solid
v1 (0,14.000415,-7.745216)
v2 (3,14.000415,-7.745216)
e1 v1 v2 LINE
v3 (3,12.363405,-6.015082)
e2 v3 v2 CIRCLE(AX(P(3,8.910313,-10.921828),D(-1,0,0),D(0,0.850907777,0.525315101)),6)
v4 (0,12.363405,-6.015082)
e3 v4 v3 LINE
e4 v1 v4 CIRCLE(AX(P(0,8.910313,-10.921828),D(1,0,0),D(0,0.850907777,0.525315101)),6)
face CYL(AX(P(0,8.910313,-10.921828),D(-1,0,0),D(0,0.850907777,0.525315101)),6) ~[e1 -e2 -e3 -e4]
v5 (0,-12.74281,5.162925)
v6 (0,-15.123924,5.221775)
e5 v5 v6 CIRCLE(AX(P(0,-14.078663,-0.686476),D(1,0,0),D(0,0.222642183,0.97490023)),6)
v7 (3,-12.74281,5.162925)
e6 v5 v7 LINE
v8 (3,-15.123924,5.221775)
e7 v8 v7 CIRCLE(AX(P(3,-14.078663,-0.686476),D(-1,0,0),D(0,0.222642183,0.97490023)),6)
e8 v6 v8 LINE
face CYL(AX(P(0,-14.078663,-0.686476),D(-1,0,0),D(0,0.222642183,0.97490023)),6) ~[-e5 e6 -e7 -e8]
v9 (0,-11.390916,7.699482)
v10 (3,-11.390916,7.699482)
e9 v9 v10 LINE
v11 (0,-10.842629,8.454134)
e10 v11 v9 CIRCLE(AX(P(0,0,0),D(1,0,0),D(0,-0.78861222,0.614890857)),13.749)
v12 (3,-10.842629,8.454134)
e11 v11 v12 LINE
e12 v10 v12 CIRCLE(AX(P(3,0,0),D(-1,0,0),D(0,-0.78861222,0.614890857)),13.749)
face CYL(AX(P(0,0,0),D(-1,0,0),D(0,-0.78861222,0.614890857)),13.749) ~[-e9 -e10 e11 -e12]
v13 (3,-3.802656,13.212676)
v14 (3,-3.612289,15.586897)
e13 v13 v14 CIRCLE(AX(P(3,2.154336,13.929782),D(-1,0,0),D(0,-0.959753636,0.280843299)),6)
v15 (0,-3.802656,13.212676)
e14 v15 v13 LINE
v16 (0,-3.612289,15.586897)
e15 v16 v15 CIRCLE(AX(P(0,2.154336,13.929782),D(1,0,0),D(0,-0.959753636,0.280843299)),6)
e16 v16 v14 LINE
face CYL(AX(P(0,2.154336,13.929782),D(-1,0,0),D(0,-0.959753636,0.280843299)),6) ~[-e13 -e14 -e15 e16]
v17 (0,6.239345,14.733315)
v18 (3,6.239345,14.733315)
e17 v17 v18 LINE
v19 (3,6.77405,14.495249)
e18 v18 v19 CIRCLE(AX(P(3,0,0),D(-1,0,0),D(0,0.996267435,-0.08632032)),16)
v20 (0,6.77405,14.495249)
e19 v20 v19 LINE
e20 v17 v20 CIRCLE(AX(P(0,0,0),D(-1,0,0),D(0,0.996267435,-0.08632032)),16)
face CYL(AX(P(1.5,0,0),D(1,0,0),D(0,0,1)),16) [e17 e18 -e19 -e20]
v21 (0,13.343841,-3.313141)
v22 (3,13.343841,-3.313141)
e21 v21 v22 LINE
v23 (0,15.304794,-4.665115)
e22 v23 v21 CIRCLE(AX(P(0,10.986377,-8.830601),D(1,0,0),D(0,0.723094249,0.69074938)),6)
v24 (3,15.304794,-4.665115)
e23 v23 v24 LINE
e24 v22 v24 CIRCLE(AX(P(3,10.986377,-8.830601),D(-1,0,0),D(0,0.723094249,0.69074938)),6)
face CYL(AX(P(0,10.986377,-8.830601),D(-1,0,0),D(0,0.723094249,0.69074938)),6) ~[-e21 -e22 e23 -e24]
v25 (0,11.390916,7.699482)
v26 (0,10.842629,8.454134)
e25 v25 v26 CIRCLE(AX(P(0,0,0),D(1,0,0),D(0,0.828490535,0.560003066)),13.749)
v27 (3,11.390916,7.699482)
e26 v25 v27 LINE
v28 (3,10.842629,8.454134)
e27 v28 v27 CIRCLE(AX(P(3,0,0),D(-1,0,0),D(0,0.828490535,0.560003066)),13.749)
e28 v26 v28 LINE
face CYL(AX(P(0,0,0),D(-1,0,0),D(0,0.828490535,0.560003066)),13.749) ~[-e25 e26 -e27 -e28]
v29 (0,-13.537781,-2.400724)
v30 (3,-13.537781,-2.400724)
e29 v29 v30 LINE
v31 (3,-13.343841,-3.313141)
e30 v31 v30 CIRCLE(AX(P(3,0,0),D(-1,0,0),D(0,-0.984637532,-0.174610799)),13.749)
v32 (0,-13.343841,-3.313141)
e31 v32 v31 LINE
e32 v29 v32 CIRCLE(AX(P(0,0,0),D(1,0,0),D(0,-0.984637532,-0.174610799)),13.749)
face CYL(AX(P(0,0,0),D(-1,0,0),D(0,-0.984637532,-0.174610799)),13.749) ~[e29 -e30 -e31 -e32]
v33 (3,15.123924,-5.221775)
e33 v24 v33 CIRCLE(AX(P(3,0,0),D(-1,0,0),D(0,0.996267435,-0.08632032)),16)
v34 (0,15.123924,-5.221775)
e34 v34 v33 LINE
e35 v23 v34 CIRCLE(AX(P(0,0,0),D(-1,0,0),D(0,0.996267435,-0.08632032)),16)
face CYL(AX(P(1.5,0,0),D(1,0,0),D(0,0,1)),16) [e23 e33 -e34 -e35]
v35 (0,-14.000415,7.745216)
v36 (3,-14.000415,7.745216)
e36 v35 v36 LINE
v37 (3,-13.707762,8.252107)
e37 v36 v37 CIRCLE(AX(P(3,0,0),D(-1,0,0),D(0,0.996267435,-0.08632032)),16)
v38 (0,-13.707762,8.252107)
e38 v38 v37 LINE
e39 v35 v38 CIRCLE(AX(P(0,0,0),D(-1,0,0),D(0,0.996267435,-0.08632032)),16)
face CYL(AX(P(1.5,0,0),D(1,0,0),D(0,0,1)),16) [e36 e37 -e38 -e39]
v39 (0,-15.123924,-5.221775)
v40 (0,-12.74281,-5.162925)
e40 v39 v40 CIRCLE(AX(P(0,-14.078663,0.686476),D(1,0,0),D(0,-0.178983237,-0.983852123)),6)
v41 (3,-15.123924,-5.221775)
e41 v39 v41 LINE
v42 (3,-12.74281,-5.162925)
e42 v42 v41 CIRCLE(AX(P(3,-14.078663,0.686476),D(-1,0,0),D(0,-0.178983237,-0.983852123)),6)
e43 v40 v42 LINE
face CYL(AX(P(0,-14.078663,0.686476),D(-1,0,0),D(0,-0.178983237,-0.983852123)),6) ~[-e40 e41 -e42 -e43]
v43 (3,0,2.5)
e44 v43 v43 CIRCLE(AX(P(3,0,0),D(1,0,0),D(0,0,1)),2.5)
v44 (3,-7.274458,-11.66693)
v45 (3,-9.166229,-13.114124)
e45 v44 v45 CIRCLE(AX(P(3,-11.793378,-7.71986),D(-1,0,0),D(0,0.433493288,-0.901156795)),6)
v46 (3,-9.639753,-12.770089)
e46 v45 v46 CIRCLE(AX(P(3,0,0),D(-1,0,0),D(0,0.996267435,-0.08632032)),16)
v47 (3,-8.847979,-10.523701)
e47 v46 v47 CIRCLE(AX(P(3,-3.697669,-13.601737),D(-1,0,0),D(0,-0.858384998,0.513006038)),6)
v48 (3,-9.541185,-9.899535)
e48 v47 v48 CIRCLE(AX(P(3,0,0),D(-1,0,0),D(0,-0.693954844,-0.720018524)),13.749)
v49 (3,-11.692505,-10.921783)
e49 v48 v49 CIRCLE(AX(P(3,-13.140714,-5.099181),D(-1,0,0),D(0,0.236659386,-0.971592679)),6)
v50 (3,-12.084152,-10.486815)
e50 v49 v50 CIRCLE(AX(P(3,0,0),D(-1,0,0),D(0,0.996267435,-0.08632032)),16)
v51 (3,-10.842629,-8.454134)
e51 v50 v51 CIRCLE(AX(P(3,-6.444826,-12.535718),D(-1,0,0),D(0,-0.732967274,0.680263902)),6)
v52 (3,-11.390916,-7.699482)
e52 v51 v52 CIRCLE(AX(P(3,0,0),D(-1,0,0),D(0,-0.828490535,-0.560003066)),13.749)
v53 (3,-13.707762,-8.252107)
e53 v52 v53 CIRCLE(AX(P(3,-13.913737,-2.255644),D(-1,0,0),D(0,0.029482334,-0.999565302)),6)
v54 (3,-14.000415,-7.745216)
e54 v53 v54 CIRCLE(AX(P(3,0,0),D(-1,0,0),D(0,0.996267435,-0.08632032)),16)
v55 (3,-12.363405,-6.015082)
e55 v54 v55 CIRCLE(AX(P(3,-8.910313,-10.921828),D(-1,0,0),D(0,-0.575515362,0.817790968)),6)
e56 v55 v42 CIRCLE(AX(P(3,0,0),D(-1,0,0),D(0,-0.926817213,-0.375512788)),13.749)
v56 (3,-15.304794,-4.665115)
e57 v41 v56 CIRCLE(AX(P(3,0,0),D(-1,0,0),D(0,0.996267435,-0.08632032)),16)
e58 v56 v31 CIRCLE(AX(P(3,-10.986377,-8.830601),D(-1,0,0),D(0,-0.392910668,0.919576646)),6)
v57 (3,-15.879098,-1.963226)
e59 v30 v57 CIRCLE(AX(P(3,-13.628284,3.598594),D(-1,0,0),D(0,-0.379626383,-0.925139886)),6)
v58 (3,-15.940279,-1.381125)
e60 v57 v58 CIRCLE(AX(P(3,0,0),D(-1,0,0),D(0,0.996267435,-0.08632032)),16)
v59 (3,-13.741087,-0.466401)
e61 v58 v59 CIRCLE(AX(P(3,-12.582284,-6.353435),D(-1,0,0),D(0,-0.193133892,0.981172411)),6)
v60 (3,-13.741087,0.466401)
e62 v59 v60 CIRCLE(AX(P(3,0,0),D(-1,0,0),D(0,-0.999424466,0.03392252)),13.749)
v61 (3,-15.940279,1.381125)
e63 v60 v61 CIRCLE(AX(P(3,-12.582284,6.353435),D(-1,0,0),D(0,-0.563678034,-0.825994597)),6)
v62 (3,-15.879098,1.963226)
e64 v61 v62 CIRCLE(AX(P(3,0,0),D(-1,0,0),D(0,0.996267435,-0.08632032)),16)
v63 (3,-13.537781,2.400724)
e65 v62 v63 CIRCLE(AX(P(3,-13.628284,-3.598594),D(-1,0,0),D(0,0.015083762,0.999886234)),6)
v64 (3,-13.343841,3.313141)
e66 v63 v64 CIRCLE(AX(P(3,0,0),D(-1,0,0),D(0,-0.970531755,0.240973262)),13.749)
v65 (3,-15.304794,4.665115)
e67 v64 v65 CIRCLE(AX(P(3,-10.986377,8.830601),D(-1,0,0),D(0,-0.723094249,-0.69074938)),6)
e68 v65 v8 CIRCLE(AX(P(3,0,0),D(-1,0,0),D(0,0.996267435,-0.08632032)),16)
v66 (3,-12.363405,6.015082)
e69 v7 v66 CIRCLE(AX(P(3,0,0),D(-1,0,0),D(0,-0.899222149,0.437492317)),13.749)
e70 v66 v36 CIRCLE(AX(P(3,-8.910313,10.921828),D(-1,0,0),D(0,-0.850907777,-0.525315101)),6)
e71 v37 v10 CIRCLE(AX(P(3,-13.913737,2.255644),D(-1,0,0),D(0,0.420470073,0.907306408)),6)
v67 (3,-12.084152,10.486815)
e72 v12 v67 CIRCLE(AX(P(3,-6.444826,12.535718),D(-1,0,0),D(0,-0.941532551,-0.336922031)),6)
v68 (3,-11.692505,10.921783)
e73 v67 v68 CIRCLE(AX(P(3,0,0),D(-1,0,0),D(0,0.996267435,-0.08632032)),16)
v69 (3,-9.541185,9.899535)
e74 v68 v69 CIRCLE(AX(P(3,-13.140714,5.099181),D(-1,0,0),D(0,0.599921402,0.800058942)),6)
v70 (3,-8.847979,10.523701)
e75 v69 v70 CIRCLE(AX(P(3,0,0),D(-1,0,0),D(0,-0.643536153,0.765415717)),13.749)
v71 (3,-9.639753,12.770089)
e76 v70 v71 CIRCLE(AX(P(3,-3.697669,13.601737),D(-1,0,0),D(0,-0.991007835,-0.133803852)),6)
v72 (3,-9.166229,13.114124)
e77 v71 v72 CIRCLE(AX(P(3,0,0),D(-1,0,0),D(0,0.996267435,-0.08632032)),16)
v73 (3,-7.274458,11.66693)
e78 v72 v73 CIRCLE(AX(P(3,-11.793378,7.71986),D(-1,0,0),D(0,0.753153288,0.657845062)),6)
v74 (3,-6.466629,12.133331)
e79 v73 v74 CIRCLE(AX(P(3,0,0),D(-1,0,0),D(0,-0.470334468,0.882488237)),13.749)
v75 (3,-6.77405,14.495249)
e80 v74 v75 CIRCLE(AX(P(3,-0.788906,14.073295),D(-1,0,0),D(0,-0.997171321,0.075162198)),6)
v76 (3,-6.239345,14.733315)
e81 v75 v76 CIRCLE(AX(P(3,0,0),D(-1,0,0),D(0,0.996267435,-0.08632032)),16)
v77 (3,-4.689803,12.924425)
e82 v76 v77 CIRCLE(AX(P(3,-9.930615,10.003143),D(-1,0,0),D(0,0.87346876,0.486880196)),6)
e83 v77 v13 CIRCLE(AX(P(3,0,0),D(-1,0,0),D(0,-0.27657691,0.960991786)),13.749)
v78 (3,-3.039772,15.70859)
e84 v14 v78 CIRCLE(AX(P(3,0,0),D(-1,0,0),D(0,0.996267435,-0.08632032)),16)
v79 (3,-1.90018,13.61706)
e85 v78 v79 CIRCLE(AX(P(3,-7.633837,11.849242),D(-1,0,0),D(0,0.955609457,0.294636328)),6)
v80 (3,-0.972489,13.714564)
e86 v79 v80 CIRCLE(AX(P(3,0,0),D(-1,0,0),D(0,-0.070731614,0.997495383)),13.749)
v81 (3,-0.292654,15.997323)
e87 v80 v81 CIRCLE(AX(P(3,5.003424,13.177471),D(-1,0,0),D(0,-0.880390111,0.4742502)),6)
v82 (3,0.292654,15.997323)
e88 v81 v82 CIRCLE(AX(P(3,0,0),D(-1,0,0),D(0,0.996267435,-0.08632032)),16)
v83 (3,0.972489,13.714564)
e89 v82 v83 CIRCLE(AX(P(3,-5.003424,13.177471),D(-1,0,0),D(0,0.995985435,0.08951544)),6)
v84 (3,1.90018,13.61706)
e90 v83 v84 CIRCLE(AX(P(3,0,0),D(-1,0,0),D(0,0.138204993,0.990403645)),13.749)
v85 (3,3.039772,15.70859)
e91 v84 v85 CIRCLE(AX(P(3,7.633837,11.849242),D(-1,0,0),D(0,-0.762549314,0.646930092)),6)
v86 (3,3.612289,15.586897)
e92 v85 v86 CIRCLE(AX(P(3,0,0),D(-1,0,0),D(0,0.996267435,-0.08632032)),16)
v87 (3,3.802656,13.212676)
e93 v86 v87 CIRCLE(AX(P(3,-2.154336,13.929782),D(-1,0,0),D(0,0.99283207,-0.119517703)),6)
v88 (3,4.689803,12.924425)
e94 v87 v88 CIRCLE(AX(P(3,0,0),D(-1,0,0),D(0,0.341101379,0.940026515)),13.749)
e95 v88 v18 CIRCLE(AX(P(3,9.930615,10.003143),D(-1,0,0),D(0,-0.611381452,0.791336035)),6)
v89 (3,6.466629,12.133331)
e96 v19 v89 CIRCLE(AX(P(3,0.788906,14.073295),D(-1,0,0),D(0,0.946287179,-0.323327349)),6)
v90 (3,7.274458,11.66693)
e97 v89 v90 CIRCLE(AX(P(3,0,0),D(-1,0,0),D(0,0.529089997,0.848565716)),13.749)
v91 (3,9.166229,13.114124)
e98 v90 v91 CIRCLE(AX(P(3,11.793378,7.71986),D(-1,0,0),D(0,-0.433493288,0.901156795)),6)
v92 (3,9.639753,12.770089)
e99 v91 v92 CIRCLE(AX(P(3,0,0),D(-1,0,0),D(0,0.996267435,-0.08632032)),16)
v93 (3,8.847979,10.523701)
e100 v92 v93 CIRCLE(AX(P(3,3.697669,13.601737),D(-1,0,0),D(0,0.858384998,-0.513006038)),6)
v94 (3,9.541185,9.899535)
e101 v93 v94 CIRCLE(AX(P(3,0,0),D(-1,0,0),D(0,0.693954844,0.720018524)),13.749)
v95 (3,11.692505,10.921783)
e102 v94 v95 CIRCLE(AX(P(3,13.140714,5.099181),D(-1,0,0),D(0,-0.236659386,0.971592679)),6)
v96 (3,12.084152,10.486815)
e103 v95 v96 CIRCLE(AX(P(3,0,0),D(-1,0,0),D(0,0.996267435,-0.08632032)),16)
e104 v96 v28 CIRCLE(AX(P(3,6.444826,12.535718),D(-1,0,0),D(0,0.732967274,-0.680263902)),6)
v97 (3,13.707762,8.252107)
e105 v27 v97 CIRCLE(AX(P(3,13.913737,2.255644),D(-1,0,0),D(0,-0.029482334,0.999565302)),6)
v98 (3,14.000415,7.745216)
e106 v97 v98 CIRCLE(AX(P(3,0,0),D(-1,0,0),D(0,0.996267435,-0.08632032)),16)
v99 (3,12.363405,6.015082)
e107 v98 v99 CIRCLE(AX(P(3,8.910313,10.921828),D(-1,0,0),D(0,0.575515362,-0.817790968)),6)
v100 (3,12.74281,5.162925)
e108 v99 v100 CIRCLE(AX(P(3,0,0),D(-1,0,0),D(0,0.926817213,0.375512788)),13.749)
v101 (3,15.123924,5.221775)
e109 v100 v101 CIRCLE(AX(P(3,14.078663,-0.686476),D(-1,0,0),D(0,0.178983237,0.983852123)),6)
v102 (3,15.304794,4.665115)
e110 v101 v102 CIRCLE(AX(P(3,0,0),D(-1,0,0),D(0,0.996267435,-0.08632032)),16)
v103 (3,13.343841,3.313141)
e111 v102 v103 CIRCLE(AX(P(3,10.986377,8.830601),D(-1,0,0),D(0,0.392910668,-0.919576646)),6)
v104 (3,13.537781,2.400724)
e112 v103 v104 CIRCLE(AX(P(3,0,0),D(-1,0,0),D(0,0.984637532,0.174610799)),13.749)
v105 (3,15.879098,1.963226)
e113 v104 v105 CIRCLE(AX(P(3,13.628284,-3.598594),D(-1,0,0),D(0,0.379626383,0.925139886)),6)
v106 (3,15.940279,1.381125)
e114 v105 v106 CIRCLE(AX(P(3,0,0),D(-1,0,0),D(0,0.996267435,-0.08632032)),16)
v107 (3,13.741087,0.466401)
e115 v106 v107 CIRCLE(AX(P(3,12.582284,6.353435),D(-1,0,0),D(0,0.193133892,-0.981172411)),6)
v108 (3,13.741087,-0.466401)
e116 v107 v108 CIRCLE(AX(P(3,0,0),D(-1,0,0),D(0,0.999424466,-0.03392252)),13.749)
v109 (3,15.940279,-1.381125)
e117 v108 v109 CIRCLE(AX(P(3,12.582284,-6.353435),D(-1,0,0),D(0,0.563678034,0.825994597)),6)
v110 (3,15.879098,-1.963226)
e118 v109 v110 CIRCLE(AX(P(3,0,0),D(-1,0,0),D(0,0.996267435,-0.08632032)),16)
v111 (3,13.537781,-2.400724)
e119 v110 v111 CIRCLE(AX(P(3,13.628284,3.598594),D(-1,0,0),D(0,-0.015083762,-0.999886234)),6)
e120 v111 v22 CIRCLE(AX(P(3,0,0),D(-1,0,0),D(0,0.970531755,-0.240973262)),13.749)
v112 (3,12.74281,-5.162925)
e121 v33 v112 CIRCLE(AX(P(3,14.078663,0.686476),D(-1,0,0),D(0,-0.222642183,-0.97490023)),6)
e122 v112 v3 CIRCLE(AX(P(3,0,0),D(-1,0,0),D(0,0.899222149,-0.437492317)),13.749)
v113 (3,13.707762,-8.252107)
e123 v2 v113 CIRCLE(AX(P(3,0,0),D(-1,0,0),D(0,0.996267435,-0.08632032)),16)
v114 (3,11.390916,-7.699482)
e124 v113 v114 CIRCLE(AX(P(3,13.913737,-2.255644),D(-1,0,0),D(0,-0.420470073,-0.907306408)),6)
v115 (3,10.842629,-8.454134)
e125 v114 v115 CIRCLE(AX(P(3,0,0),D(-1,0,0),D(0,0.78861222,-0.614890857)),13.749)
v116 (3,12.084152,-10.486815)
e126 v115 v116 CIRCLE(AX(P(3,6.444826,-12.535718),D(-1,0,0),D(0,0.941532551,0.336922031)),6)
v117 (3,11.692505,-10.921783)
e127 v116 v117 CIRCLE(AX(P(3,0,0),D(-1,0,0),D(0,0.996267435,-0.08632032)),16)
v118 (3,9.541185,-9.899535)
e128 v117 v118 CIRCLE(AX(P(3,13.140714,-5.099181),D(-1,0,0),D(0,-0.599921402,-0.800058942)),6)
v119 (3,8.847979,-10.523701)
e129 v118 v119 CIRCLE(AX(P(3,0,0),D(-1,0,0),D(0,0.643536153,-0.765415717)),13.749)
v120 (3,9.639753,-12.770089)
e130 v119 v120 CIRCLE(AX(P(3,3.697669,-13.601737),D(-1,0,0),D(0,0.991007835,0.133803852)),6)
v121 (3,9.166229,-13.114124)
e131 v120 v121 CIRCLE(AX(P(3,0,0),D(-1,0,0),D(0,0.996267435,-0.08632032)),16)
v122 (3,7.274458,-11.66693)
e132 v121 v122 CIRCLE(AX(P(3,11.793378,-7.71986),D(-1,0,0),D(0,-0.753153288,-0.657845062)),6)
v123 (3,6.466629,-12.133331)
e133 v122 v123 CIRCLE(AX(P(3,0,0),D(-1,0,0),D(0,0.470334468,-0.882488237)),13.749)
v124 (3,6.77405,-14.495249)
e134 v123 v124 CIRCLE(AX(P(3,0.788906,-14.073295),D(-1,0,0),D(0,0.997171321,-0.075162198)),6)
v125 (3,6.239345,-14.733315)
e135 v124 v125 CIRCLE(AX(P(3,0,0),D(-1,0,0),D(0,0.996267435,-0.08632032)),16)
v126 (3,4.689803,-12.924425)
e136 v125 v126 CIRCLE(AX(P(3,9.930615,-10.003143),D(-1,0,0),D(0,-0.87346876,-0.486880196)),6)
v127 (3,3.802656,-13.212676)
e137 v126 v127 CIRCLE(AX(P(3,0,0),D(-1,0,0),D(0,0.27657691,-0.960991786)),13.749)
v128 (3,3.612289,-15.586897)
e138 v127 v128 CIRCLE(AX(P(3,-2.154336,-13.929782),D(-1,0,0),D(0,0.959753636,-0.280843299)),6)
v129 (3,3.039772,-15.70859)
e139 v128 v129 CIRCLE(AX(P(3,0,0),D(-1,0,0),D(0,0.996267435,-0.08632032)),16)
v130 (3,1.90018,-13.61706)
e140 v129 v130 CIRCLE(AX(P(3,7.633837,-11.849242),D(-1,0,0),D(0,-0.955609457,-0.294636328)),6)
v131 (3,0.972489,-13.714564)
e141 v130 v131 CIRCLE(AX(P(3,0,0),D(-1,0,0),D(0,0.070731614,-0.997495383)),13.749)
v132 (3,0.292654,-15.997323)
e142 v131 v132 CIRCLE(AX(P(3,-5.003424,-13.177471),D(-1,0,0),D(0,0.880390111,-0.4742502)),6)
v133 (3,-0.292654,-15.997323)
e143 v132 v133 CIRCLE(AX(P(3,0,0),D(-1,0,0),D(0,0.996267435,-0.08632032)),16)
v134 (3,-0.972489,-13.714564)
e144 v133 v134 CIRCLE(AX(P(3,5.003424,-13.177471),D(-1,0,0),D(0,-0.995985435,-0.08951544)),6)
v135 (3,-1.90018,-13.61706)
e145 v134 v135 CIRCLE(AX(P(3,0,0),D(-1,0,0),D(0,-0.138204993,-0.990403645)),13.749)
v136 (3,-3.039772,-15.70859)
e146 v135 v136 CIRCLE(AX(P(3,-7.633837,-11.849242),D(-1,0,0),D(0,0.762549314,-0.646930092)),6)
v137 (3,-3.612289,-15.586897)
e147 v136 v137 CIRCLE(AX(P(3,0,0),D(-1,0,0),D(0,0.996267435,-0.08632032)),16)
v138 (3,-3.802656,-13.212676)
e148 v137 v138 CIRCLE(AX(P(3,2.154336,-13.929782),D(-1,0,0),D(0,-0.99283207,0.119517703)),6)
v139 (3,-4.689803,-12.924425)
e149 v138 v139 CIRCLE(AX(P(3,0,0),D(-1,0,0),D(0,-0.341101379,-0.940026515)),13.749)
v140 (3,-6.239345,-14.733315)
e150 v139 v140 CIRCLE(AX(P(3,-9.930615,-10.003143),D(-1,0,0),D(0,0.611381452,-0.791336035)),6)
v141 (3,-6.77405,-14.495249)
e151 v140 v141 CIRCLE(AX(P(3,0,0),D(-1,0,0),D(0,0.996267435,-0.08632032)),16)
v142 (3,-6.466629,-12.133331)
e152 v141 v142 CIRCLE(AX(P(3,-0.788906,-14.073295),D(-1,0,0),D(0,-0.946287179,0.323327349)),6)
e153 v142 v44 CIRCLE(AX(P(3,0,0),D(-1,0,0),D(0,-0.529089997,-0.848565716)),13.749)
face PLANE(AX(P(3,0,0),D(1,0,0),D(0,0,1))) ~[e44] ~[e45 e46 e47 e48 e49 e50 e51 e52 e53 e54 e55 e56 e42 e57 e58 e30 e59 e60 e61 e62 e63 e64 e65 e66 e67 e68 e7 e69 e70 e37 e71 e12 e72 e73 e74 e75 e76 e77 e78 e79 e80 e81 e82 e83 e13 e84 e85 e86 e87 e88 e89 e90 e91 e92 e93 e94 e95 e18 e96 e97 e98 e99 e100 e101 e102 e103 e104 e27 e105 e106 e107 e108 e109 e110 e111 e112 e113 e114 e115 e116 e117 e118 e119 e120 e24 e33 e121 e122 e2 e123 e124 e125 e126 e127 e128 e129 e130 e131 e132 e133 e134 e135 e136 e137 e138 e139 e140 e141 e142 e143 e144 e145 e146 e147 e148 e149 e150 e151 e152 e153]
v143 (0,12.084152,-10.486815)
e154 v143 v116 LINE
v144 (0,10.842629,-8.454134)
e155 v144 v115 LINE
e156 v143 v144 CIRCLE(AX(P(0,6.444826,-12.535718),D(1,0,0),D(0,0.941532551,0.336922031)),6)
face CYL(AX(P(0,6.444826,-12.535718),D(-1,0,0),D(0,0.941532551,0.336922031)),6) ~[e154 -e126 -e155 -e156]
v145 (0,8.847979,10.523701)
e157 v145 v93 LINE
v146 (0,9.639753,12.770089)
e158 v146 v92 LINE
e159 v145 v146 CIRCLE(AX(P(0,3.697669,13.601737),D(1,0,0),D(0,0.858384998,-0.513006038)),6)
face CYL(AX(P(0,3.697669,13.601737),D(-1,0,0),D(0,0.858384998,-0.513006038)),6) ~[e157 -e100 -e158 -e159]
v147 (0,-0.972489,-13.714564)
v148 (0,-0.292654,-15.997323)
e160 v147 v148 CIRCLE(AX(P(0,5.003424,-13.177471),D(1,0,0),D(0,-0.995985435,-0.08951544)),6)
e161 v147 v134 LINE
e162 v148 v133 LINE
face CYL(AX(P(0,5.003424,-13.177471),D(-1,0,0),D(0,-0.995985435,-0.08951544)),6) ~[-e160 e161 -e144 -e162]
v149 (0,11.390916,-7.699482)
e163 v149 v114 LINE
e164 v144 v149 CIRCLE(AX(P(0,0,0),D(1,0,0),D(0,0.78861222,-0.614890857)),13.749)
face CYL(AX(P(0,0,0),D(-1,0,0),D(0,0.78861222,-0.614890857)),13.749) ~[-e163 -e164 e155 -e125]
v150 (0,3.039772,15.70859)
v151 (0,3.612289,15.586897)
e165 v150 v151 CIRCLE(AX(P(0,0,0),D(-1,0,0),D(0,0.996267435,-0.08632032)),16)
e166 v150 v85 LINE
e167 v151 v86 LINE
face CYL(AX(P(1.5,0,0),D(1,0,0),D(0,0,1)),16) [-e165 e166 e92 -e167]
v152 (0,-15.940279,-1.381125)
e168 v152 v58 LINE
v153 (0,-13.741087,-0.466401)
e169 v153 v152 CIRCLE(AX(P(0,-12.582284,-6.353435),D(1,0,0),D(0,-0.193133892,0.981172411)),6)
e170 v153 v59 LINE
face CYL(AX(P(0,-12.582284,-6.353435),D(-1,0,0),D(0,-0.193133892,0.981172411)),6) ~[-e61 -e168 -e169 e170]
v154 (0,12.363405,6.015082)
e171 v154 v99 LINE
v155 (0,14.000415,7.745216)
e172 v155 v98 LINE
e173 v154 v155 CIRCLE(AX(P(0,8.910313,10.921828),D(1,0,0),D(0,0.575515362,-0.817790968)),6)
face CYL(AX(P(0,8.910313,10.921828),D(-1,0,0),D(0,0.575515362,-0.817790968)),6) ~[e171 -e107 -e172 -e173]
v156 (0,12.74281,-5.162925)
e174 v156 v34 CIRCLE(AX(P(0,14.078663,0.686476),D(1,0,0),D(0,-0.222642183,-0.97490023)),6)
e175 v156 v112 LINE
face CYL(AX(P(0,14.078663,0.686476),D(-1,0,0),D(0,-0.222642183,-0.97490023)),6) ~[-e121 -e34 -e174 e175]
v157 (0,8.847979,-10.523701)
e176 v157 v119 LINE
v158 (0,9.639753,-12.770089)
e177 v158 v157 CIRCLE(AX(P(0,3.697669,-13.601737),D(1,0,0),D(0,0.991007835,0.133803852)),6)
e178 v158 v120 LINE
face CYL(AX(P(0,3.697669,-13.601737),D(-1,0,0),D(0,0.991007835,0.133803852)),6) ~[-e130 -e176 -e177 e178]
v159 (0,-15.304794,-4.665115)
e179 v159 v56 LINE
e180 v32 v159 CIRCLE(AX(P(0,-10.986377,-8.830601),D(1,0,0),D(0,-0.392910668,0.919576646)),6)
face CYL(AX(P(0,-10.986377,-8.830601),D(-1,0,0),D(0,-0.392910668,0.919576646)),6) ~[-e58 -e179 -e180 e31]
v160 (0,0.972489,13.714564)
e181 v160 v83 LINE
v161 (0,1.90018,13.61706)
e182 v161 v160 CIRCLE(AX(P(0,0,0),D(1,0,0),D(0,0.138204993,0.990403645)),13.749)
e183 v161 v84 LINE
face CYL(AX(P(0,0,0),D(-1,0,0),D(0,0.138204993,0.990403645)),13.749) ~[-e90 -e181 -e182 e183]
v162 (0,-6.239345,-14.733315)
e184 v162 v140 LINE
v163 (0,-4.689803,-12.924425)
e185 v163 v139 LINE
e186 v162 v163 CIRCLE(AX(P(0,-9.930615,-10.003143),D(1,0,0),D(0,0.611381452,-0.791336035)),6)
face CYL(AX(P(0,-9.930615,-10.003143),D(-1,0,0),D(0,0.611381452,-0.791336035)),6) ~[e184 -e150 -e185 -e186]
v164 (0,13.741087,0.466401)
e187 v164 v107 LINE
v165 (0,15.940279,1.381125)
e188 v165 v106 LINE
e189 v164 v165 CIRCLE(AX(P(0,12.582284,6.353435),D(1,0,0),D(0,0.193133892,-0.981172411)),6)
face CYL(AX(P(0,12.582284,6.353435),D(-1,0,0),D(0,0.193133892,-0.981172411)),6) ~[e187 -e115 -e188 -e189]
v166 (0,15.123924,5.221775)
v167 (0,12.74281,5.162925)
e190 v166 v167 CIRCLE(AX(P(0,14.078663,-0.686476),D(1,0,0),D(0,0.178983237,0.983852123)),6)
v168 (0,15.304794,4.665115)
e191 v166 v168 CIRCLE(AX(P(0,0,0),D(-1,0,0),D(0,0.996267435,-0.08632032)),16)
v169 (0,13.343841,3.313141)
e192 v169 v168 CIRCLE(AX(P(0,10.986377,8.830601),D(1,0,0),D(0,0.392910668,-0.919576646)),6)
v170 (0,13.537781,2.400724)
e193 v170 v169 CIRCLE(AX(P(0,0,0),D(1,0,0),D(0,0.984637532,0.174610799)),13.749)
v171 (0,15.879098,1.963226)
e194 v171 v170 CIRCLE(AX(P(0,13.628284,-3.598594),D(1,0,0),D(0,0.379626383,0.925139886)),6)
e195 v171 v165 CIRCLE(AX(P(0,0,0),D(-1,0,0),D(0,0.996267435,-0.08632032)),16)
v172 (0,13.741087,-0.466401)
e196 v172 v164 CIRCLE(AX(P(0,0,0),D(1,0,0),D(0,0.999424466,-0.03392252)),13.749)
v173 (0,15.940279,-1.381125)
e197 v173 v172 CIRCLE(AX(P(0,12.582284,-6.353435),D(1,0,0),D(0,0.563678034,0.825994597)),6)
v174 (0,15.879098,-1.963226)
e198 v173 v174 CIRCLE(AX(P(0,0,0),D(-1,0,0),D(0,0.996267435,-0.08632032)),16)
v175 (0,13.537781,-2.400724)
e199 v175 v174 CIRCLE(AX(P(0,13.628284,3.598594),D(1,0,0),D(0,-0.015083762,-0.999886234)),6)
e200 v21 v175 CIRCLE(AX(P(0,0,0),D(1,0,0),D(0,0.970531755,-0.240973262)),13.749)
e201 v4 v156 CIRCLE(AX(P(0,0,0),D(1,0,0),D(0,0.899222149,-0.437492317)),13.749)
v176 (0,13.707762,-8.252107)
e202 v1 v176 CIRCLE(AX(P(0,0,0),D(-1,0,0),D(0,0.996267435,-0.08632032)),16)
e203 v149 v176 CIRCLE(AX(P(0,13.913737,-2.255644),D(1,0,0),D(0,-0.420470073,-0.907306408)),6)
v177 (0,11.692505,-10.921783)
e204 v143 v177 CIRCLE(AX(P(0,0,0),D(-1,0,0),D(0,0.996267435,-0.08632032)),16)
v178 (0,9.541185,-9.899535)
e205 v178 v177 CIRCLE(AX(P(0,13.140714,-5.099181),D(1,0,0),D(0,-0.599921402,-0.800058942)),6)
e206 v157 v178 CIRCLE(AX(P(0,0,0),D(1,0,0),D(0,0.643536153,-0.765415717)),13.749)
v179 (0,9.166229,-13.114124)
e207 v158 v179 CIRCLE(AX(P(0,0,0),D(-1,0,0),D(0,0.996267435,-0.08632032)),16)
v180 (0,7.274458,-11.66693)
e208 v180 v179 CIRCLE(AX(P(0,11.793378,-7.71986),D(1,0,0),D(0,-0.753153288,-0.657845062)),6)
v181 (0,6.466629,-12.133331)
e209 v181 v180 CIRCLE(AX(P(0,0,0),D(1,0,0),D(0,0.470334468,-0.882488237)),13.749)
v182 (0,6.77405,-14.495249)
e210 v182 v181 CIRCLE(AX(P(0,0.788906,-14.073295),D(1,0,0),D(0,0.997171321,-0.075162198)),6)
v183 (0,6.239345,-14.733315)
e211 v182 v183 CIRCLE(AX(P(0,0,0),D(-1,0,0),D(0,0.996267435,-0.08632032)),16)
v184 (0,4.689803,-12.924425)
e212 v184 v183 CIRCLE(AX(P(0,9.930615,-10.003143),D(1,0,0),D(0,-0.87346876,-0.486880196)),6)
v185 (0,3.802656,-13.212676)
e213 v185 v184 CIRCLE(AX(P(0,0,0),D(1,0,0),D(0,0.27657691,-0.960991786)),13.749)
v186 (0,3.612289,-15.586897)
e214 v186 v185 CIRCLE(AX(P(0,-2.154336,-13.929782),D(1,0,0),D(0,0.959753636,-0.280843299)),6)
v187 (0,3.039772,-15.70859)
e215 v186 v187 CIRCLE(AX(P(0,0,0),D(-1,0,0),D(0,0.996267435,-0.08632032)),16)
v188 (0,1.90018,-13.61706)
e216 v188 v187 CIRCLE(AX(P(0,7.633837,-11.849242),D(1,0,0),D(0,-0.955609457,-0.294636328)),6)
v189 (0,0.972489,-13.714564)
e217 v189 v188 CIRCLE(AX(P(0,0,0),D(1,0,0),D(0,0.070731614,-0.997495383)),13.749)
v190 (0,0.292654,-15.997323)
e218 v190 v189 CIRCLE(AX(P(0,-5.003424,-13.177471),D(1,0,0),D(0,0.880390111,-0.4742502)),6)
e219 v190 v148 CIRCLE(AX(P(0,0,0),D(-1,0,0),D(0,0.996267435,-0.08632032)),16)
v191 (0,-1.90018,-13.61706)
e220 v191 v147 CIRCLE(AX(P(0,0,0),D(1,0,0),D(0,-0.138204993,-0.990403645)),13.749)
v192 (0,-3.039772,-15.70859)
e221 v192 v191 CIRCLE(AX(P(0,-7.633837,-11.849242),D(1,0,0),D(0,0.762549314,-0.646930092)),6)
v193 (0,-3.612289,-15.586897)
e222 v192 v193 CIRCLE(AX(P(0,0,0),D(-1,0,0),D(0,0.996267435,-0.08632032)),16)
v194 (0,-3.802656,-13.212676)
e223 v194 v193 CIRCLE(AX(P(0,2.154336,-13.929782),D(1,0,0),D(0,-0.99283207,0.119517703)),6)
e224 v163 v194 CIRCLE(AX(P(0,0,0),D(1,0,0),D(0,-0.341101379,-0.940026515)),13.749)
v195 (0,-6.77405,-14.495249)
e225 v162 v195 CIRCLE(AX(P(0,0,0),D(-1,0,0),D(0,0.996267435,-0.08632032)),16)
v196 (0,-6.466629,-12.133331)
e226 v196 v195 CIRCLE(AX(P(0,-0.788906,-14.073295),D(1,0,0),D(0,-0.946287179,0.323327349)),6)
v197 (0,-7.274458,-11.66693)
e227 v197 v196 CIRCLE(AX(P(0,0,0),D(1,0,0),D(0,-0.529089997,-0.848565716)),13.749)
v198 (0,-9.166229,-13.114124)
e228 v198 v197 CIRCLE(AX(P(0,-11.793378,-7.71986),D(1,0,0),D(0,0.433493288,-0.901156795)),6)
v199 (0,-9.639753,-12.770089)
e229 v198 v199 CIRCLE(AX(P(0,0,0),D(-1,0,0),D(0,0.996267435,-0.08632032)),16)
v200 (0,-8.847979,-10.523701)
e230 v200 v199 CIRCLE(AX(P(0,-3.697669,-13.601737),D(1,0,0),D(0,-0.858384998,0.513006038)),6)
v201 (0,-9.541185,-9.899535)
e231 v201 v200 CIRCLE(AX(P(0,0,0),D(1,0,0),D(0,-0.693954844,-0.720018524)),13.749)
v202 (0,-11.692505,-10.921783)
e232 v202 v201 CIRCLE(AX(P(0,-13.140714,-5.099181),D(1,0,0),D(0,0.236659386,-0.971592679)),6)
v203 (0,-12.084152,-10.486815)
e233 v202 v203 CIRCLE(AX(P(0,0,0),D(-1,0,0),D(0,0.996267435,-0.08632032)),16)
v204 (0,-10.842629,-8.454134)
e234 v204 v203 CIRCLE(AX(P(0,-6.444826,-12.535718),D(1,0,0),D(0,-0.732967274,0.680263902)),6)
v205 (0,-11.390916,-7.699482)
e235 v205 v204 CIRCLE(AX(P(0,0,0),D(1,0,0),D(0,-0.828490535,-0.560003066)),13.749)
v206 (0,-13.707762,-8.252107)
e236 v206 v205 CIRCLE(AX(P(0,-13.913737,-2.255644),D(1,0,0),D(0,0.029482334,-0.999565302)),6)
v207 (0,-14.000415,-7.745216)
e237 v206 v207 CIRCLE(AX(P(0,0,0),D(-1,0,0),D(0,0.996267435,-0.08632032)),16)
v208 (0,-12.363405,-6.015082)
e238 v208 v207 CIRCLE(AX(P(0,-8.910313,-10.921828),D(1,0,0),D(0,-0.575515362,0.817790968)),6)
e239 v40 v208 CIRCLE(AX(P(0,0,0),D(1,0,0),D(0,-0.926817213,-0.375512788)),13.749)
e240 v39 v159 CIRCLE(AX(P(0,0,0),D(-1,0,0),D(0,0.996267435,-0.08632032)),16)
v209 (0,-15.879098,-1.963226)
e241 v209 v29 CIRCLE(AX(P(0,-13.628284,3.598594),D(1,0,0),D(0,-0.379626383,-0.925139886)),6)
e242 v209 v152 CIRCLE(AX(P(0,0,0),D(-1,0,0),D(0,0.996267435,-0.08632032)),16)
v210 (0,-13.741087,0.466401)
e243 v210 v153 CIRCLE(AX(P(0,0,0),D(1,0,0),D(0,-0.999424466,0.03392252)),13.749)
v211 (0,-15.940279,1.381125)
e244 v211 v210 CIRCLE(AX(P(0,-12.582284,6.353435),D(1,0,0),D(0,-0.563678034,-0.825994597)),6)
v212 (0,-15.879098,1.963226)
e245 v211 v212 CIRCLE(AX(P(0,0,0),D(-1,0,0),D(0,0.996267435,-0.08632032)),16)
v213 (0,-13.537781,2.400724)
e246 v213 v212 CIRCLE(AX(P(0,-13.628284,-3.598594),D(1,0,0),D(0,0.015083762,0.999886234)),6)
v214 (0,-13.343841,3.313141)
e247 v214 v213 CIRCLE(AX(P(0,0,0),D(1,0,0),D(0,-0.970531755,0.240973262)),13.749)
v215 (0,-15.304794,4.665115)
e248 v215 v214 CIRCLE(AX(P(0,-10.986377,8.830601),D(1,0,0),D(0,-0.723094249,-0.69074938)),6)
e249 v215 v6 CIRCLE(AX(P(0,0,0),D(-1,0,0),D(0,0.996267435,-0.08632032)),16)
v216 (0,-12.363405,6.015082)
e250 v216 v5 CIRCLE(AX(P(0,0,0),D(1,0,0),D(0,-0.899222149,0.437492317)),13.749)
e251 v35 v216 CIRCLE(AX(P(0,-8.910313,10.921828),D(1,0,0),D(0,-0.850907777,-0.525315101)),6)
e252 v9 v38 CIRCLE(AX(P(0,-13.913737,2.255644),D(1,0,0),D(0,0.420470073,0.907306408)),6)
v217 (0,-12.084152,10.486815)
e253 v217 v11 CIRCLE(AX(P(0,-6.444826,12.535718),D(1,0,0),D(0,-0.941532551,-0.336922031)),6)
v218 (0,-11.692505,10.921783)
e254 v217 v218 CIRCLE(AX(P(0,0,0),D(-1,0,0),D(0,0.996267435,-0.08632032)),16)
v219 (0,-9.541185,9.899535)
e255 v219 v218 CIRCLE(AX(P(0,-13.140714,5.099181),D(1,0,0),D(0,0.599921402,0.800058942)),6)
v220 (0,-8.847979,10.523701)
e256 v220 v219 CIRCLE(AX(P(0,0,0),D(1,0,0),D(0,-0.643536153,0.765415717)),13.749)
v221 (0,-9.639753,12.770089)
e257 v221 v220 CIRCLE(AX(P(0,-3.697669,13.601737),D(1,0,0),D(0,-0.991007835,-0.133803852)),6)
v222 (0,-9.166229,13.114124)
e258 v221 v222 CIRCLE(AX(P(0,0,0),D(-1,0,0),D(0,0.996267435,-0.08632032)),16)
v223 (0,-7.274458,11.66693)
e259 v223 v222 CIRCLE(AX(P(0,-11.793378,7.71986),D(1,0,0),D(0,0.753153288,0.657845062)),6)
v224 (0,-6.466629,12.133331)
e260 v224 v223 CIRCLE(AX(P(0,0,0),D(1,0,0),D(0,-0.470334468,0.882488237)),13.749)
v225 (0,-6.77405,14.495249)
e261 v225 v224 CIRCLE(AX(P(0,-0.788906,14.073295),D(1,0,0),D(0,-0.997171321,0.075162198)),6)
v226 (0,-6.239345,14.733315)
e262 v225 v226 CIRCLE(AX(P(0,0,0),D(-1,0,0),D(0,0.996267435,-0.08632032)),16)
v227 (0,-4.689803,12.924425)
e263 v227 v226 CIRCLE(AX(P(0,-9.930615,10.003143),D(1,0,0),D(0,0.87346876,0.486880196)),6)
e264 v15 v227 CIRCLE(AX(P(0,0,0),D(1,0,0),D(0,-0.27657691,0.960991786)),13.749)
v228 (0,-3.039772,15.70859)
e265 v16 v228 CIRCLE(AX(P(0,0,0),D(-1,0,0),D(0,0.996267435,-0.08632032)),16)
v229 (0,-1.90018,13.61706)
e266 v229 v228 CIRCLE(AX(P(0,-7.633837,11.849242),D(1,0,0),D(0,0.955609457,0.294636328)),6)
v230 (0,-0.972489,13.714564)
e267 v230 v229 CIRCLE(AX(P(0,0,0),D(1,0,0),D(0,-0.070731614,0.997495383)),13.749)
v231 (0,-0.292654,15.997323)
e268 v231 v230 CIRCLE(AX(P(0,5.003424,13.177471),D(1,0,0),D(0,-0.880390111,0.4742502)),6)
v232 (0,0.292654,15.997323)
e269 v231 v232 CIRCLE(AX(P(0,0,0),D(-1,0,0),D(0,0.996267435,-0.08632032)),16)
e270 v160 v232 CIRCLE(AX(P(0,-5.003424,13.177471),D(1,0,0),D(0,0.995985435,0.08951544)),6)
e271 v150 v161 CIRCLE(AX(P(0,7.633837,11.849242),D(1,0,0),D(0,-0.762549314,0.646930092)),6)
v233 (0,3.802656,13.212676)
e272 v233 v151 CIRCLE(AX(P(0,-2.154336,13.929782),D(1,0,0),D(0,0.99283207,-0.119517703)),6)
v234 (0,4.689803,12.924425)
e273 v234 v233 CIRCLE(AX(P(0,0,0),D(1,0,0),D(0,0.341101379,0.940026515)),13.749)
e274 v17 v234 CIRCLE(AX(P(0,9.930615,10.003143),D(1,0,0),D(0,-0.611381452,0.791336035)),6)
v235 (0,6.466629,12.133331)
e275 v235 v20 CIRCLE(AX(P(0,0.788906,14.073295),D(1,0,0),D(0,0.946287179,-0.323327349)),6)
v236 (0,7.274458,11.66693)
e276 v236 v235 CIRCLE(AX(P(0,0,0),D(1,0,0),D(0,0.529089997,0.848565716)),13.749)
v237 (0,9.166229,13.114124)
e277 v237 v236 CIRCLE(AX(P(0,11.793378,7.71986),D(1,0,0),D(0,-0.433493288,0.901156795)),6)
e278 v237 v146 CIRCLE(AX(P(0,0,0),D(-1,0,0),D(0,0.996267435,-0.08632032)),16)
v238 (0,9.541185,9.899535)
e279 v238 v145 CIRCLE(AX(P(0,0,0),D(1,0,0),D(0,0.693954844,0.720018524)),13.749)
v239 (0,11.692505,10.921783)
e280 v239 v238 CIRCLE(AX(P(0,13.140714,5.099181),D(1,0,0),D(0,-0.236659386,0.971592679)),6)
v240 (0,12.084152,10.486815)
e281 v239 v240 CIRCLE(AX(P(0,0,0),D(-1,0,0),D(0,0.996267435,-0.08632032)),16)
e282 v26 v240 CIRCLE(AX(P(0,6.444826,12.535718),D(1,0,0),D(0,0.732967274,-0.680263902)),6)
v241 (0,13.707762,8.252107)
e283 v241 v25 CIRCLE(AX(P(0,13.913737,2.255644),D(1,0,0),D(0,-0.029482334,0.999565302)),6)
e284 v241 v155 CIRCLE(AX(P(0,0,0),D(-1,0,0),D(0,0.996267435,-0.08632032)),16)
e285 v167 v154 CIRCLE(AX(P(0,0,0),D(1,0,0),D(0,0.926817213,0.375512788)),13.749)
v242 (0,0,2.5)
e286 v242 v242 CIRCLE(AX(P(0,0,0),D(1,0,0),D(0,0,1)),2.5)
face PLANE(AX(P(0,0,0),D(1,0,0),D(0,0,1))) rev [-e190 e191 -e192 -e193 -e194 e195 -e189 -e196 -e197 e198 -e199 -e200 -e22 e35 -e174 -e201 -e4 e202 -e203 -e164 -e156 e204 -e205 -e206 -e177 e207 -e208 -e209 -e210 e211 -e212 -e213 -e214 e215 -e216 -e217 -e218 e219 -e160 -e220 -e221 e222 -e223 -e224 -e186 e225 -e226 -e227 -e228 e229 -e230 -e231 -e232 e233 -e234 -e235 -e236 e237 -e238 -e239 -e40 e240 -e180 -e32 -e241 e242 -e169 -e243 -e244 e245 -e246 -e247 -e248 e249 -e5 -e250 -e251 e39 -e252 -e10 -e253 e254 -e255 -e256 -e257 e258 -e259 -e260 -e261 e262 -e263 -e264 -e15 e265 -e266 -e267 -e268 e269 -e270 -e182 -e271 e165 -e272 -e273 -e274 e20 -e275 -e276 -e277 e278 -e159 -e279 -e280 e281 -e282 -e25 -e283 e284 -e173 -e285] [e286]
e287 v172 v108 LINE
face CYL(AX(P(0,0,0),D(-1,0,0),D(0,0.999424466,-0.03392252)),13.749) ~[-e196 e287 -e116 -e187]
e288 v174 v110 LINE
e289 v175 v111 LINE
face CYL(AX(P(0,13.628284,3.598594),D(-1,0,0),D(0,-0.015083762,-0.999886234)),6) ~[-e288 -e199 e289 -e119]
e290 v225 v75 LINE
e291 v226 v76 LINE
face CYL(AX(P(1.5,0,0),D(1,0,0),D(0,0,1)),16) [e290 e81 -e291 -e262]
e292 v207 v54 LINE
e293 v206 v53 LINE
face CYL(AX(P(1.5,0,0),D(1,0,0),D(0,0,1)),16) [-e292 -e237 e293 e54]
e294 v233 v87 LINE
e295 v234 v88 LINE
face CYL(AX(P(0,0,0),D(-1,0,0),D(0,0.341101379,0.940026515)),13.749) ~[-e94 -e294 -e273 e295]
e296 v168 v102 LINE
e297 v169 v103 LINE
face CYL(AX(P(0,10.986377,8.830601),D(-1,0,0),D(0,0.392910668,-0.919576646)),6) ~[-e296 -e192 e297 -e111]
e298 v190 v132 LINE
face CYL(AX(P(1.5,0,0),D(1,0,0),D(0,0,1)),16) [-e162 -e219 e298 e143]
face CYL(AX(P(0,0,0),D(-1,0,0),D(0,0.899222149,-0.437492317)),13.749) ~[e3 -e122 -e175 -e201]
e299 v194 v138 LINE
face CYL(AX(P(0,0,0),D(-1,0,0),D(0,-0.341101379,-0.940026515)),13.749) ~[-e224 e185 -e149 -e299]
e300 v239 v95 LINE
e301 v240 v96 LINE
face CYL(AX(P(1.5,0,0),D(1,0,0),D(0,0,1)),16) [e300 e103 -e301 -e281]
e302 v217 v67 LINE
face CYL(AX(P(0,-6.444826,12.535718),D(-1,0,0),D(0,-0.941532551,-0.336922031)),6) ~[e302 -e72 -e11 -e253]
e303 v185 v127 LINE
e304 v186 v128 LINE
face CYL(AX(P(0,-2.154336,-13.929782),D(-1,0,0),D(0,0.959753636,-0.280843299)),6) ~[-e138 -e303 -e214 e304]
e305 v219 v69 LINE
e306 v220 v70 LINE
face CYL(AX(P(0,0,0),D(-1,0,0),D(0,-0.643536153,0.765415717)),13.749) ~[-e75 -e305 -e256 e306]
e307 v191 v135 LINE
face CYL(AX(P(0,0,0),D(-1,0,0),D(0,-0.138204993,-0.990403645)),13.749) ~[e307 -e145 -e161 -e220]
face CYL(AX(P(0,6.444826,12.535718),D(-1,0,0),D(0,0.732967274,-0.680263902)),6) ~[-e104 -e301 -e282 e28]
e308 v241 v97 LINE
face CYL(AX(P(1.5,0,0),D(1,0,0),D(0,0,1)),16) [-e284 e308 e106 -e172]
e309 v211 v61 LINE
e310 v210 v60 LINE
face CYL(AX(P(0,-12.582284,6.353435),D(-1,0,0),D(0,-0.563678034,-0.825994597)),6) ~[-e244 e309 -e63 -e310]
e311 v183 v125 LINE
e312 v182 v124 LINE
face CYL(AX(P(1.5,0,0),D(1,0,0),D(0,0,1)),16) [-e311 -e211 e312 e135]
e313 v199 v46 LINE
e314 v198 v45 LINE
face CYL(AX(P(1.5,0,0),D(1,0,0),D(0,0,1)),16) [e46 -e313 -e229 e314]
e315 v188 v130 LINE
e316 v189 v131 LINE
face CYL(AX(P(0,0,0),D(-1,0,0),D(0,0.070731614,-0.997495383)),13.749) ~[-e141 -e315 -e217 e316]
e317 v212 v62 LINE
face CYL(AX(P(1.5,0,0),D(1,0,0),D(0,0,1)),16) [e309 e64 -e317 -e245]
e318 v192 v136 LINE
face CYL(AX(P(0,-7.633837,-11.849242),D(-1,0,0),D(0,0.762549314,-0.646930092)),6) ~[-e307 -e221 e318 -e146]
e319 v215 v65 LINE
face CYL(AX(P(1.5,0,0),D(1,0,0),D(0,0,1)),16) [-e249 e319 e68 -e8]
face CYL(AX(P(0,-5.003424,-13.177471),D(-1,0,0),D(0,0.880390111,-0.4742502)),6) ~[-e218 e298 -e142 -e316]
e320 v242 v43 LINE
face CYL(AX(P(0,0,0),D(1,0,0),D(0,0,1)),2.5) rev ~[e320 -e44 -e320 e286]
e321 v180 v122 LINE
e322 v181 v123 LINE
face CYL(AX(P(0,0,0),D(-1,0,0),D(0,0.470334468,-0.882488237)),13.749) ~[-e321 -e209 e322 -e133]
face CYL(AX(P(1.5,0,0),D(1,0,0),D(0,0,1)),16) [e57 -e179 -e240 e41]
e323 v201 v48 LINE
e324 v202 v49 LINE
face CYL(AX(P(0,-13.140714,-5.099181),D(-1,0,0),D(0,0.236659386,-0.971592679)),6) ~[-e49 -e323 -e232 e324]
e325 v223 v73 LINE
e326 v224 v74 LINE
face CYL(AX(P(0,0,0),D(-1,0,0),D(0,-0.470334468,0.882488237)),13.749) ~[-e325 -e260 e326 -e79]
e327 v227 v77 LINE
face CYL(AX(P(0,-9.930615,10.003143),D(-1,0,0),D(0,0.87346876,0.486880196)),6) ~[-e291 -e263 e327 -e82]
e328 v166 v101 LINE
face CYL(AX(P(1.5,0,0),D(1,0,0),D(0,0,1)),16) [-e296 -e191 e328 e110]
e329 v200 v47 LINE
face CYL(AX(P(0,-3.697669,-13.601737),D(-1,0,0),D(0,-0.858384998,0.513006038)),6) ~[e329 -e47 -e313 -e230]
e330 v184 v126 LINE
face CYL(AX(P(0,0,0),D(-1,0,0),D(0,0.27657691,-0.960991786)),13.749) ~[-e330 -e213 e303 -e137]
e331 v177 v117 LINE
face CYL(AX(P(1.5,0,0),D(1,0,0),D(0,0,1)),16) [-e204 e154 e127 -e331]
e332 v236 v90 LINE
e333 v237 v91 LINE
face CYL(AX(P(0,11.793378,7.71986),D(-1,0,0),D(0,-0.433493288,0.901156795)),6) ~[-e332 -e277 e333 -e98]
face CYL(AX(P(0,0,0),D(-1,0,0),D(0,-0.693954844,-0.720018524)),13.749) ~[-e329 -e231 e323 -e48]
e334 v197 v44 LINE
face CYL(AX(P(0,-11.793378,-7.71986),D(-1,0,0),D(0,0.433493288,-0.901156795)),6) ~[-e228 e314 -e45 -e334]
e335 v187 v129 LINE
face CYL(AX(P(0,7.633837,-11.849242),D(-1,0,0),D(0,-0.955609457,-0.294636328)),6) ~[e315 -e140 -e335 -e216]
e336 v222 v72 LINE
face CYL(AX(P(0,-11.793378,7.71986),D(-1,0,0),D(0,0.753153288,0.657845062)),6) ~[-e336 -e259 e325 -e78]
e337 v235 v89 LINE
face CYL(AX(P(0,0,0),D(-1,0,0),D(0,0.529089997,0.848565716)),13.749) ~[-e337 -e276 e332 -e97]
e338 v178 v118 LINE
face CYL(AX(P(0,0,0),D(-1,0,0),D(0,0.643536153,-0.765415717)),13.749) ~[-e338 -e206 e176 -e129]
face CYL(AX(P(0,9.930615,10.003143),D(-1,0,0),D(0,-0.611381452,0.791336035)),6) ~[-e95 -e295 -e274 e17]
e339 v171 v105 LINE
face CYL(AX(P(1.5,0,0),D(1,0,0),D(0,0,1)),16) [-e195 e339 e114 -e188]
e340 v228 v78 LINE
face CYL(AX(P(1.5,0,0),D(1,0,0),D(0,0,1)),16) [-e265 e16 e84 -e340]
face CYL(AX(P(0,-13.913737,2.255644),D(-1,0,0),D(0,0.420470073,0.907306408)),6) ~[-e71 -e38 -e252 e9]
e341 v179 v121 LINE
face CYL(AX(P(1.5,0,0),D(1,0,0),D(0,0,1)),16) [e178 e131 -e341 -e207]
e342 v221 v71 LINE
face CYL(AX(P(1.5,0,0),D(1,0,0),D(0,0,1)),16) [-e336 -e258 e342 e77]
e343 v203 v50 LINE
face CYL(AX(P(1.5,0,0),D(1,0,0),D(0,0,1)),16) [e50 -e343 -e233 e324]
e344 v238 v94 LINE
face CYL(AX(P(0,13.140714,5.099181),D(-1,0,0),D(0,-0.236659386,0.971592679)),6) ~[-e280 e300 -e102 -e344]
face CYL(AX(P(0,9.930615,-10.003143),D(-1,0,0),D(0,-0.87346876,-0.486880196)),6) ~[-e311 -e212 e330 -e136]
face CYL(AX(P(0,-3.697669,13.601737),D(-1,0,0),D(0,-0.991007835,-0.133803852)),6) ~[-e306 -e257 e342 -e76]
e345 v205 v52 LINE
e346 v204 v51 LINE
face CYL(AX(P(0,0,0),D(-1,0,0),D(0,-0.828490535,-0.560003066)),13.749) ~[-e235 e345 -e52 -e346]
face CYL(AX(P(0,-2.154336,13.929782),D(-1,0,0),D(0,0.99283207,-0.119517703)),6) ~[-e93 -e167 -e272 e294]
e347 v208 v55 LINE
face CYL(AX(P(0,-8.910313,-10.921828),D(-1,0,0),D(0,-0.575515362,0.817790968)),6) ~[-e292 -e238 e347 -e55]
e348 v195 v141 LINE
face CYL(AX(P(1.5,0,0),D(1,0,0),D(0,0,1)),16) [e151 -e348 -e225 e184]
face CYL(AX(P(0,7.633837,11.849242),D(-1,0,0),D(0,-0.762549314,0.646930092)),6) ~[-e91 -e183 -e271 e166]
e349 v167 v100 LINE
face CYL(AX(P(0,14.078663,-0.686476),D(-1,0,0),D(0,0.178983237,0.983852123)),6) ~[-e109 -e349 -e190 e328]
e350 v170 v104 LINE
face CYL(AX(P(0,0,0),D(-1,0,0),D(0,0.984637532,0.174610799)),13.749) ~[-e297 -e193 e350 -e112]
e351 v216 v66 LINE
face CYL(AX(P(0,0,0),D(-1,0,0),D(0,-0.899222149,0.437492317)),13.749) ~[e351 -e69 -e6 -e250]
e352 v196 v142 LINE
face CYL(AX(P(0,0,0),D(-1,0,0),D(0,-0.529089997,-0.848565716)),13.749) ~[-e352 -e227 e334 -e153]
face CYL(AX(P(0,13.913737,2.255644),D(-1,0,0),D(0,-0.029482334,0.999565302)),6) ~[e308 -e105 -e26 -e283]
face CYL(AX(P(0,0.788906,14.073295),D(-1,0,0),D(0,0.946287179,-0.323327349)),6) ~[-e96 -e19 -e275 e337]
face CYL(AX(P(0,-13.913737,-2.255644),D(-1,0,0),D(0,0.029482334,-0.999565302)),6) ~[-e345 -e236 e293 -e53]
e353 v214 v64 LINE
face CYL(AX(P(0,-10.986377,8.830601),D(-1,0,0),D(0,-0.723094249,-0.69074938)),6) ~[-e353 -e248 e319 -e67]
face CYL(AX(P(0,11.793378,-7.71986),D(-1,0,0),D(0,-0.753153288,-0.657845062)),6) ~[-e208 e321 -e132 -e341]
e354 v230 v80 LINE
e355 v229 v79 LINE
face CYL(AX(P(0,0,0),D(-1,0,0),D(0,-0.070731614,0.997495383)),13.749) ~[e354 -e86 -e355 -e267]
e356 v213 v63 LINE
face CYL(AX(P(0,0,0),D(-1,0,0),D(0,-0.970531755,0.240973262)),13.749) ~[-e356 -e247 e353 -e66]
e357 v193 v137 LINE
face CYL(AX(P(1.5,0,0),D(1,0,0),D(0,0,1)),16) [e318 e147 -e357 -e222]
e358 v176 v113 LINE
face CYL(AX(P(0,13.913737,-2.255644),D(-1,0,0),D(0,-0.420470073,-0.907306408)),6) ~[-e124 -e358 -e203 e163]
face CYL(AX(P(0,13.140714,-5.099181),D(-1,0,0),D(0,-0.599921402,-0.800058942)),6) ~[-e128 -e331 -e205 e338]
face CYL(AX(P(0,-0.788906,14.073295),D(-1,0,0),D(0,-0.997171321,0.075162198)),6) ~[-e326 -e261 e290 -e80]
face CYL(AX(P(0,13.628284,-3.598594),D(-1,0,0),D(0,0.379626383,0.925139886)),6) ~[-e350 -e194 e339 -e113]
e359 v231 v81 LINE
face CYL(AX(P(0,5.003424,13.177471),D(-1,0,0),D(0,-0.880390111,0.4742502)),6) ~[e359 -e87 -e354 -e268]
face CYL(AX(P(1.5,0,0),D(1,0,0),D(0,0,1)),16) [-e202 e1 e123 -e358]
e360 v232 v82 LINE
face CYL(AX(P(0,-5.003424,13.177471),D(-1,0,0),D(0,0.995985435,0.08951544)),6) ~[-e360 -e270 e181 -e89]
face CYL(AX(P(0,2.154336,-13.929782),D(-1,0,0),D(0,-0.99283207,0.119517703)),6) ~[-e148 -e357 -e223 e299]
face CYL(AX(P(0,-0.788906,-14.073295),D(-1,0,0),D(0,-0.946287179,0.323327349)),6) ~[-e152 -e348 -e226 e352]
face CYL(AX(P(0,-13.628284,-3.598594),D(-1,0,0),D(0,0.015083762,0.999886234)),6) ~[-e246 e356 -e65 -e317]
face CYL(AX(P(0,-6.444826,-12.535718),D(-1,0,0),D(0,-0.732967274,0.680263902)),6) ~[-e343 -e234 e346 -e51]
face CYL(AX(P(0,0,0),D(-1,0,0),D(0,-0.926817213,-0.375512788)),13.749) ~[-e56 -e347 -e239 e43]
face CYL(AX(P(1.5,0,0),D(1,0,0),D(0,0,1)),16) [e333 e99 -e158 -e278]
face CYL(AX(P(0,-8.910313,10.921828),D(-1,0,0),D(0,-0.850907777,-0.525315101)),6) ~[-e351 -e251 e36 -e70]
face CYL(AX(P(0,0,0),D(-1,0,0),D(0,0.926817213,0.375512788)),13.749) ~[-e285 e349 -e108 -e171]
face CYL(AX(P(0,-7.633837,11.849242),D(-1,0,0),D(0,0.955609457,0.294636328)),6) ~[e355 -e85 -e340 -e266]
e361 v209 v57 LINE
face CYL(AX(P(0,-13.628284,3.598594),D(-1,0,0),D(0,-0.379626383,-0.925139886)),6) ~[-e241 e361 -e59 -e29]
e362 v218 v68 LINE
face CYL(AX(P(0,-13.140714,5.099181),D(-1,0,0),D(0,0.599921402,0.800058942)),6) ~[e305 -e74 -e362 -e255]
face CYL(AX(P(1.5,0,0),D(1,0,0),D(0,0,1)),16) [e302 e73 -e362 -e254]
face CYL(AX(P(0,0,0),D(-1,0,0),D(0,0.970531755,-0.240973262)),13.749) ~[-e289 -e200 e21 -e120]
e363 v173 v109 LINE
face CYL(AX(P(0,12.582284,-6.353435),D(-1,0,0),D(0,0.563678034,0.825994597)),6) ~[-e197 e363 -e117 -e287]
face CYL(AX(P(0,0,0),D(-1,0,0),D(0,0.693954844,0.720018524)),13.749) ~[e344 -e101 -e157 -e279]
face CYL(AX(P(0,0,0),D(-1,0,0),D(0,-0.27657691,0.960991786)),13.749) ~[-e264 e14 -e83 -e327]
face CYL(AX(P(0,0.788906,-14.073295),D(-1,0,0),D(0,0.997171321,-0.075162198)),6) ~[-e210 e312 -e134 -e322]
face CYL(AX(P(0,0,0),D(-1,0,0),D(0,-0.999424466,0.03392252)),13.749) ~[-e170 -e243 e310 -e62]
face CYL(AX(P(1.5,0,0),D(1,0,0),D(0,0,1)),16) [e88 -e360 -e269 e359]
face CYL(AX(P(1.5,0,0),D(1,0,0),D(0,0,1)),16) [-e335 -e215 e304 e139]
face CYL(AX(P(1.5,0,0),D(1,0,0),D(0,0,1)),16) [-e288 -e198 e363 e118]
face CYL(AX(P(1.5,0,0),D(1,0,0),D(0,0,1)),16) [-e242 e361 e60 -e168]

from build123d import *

# Parameters (mm, degrees)
BASPROSKE_W     = 3
BASPROSKE_H     = 16
TOOTHCUT_DEPTH  = 23.825424421
TEETHCUTS_COUNT = 30
TEETHCUTS_ANGLE = 348
BORSKE_R        = 2.5
BORE_DEPTH      = 50.0000508


with BuildPart() as part:
    # BasProSke → Base-Revolve (revolve)
    with BuildSketch(Plane(origin=(0, 0, 0), x_dir=(1, 0, 0), z_dir=(0, 1, 0)), mode=Mode.PRIVATE) as base_revolve_sk:
        with Locations((1.5, 8)):
            Rectangle(BASPROSKE_W, BASPROSKE_H)
    revolve(base_revolve_sk.sketch.rotate(Axis((-10, 0, 0), (1, 0, 0)), 180), axis=Axis((-10, 0, 0), (1, 0, 0)))

    # TooCutSke → ToothCut (cut, through all)
    with BuildSketch(Plane(origin=(0, 0, 0), x_dir=(0, 0, -1), z_dir=(1, 0, 0))):
        with BuildLine():
            ThreePointArc((0.466400716, 13.741086979), (0, 13.749), (-0.466400716, 13.741086979))
            ThreePointArc((-0.466400716, 13.741086979), (-0.819142092, 14.899954875), (-1.3974676, 15.964351834))
            ThreePointArc((-1.3974676, 15.964351834), (0, 16.0254), (1.3974676, 15.964351834))
            ThreePointArc((1.3974676, 15.964351834), (0.819142092, 14.899954875), (0.466400716, 13.741086979))
        make_face()
    toothcut = extrude(amount=TOOTHCUT_DEPTH, mode=Mode.SUBTRACT)

    # TeethCuts: ToothCut ×30 about axis
    teethcuts_axis = Axis((-10, 0, 0), (1, 0, 0))
    for i in range(1, TEETHCUTS_COUNT):
        add(toothcut.rotate(teethcuts_axis, i * TEETHCUTS_ANGLE / (TEETHCUTS_COUNT - 1)), mode=Mode.SUBTRACT)

    # BorSke → Bore (cut, symmetric)
    with BuildSketch(Plane(origin=(0, 0, 0), x_dir=(0, 0, -1), z_dir=(1, 0, 0))):
        with Locations(Location((0, 0, 0), (0, 0, 180))):
            Circle(BORSKE_R)
    extrude(amount=BORE_DEPTH, both=True, mode=Mode.SUBTRACT)


solid = part.part
